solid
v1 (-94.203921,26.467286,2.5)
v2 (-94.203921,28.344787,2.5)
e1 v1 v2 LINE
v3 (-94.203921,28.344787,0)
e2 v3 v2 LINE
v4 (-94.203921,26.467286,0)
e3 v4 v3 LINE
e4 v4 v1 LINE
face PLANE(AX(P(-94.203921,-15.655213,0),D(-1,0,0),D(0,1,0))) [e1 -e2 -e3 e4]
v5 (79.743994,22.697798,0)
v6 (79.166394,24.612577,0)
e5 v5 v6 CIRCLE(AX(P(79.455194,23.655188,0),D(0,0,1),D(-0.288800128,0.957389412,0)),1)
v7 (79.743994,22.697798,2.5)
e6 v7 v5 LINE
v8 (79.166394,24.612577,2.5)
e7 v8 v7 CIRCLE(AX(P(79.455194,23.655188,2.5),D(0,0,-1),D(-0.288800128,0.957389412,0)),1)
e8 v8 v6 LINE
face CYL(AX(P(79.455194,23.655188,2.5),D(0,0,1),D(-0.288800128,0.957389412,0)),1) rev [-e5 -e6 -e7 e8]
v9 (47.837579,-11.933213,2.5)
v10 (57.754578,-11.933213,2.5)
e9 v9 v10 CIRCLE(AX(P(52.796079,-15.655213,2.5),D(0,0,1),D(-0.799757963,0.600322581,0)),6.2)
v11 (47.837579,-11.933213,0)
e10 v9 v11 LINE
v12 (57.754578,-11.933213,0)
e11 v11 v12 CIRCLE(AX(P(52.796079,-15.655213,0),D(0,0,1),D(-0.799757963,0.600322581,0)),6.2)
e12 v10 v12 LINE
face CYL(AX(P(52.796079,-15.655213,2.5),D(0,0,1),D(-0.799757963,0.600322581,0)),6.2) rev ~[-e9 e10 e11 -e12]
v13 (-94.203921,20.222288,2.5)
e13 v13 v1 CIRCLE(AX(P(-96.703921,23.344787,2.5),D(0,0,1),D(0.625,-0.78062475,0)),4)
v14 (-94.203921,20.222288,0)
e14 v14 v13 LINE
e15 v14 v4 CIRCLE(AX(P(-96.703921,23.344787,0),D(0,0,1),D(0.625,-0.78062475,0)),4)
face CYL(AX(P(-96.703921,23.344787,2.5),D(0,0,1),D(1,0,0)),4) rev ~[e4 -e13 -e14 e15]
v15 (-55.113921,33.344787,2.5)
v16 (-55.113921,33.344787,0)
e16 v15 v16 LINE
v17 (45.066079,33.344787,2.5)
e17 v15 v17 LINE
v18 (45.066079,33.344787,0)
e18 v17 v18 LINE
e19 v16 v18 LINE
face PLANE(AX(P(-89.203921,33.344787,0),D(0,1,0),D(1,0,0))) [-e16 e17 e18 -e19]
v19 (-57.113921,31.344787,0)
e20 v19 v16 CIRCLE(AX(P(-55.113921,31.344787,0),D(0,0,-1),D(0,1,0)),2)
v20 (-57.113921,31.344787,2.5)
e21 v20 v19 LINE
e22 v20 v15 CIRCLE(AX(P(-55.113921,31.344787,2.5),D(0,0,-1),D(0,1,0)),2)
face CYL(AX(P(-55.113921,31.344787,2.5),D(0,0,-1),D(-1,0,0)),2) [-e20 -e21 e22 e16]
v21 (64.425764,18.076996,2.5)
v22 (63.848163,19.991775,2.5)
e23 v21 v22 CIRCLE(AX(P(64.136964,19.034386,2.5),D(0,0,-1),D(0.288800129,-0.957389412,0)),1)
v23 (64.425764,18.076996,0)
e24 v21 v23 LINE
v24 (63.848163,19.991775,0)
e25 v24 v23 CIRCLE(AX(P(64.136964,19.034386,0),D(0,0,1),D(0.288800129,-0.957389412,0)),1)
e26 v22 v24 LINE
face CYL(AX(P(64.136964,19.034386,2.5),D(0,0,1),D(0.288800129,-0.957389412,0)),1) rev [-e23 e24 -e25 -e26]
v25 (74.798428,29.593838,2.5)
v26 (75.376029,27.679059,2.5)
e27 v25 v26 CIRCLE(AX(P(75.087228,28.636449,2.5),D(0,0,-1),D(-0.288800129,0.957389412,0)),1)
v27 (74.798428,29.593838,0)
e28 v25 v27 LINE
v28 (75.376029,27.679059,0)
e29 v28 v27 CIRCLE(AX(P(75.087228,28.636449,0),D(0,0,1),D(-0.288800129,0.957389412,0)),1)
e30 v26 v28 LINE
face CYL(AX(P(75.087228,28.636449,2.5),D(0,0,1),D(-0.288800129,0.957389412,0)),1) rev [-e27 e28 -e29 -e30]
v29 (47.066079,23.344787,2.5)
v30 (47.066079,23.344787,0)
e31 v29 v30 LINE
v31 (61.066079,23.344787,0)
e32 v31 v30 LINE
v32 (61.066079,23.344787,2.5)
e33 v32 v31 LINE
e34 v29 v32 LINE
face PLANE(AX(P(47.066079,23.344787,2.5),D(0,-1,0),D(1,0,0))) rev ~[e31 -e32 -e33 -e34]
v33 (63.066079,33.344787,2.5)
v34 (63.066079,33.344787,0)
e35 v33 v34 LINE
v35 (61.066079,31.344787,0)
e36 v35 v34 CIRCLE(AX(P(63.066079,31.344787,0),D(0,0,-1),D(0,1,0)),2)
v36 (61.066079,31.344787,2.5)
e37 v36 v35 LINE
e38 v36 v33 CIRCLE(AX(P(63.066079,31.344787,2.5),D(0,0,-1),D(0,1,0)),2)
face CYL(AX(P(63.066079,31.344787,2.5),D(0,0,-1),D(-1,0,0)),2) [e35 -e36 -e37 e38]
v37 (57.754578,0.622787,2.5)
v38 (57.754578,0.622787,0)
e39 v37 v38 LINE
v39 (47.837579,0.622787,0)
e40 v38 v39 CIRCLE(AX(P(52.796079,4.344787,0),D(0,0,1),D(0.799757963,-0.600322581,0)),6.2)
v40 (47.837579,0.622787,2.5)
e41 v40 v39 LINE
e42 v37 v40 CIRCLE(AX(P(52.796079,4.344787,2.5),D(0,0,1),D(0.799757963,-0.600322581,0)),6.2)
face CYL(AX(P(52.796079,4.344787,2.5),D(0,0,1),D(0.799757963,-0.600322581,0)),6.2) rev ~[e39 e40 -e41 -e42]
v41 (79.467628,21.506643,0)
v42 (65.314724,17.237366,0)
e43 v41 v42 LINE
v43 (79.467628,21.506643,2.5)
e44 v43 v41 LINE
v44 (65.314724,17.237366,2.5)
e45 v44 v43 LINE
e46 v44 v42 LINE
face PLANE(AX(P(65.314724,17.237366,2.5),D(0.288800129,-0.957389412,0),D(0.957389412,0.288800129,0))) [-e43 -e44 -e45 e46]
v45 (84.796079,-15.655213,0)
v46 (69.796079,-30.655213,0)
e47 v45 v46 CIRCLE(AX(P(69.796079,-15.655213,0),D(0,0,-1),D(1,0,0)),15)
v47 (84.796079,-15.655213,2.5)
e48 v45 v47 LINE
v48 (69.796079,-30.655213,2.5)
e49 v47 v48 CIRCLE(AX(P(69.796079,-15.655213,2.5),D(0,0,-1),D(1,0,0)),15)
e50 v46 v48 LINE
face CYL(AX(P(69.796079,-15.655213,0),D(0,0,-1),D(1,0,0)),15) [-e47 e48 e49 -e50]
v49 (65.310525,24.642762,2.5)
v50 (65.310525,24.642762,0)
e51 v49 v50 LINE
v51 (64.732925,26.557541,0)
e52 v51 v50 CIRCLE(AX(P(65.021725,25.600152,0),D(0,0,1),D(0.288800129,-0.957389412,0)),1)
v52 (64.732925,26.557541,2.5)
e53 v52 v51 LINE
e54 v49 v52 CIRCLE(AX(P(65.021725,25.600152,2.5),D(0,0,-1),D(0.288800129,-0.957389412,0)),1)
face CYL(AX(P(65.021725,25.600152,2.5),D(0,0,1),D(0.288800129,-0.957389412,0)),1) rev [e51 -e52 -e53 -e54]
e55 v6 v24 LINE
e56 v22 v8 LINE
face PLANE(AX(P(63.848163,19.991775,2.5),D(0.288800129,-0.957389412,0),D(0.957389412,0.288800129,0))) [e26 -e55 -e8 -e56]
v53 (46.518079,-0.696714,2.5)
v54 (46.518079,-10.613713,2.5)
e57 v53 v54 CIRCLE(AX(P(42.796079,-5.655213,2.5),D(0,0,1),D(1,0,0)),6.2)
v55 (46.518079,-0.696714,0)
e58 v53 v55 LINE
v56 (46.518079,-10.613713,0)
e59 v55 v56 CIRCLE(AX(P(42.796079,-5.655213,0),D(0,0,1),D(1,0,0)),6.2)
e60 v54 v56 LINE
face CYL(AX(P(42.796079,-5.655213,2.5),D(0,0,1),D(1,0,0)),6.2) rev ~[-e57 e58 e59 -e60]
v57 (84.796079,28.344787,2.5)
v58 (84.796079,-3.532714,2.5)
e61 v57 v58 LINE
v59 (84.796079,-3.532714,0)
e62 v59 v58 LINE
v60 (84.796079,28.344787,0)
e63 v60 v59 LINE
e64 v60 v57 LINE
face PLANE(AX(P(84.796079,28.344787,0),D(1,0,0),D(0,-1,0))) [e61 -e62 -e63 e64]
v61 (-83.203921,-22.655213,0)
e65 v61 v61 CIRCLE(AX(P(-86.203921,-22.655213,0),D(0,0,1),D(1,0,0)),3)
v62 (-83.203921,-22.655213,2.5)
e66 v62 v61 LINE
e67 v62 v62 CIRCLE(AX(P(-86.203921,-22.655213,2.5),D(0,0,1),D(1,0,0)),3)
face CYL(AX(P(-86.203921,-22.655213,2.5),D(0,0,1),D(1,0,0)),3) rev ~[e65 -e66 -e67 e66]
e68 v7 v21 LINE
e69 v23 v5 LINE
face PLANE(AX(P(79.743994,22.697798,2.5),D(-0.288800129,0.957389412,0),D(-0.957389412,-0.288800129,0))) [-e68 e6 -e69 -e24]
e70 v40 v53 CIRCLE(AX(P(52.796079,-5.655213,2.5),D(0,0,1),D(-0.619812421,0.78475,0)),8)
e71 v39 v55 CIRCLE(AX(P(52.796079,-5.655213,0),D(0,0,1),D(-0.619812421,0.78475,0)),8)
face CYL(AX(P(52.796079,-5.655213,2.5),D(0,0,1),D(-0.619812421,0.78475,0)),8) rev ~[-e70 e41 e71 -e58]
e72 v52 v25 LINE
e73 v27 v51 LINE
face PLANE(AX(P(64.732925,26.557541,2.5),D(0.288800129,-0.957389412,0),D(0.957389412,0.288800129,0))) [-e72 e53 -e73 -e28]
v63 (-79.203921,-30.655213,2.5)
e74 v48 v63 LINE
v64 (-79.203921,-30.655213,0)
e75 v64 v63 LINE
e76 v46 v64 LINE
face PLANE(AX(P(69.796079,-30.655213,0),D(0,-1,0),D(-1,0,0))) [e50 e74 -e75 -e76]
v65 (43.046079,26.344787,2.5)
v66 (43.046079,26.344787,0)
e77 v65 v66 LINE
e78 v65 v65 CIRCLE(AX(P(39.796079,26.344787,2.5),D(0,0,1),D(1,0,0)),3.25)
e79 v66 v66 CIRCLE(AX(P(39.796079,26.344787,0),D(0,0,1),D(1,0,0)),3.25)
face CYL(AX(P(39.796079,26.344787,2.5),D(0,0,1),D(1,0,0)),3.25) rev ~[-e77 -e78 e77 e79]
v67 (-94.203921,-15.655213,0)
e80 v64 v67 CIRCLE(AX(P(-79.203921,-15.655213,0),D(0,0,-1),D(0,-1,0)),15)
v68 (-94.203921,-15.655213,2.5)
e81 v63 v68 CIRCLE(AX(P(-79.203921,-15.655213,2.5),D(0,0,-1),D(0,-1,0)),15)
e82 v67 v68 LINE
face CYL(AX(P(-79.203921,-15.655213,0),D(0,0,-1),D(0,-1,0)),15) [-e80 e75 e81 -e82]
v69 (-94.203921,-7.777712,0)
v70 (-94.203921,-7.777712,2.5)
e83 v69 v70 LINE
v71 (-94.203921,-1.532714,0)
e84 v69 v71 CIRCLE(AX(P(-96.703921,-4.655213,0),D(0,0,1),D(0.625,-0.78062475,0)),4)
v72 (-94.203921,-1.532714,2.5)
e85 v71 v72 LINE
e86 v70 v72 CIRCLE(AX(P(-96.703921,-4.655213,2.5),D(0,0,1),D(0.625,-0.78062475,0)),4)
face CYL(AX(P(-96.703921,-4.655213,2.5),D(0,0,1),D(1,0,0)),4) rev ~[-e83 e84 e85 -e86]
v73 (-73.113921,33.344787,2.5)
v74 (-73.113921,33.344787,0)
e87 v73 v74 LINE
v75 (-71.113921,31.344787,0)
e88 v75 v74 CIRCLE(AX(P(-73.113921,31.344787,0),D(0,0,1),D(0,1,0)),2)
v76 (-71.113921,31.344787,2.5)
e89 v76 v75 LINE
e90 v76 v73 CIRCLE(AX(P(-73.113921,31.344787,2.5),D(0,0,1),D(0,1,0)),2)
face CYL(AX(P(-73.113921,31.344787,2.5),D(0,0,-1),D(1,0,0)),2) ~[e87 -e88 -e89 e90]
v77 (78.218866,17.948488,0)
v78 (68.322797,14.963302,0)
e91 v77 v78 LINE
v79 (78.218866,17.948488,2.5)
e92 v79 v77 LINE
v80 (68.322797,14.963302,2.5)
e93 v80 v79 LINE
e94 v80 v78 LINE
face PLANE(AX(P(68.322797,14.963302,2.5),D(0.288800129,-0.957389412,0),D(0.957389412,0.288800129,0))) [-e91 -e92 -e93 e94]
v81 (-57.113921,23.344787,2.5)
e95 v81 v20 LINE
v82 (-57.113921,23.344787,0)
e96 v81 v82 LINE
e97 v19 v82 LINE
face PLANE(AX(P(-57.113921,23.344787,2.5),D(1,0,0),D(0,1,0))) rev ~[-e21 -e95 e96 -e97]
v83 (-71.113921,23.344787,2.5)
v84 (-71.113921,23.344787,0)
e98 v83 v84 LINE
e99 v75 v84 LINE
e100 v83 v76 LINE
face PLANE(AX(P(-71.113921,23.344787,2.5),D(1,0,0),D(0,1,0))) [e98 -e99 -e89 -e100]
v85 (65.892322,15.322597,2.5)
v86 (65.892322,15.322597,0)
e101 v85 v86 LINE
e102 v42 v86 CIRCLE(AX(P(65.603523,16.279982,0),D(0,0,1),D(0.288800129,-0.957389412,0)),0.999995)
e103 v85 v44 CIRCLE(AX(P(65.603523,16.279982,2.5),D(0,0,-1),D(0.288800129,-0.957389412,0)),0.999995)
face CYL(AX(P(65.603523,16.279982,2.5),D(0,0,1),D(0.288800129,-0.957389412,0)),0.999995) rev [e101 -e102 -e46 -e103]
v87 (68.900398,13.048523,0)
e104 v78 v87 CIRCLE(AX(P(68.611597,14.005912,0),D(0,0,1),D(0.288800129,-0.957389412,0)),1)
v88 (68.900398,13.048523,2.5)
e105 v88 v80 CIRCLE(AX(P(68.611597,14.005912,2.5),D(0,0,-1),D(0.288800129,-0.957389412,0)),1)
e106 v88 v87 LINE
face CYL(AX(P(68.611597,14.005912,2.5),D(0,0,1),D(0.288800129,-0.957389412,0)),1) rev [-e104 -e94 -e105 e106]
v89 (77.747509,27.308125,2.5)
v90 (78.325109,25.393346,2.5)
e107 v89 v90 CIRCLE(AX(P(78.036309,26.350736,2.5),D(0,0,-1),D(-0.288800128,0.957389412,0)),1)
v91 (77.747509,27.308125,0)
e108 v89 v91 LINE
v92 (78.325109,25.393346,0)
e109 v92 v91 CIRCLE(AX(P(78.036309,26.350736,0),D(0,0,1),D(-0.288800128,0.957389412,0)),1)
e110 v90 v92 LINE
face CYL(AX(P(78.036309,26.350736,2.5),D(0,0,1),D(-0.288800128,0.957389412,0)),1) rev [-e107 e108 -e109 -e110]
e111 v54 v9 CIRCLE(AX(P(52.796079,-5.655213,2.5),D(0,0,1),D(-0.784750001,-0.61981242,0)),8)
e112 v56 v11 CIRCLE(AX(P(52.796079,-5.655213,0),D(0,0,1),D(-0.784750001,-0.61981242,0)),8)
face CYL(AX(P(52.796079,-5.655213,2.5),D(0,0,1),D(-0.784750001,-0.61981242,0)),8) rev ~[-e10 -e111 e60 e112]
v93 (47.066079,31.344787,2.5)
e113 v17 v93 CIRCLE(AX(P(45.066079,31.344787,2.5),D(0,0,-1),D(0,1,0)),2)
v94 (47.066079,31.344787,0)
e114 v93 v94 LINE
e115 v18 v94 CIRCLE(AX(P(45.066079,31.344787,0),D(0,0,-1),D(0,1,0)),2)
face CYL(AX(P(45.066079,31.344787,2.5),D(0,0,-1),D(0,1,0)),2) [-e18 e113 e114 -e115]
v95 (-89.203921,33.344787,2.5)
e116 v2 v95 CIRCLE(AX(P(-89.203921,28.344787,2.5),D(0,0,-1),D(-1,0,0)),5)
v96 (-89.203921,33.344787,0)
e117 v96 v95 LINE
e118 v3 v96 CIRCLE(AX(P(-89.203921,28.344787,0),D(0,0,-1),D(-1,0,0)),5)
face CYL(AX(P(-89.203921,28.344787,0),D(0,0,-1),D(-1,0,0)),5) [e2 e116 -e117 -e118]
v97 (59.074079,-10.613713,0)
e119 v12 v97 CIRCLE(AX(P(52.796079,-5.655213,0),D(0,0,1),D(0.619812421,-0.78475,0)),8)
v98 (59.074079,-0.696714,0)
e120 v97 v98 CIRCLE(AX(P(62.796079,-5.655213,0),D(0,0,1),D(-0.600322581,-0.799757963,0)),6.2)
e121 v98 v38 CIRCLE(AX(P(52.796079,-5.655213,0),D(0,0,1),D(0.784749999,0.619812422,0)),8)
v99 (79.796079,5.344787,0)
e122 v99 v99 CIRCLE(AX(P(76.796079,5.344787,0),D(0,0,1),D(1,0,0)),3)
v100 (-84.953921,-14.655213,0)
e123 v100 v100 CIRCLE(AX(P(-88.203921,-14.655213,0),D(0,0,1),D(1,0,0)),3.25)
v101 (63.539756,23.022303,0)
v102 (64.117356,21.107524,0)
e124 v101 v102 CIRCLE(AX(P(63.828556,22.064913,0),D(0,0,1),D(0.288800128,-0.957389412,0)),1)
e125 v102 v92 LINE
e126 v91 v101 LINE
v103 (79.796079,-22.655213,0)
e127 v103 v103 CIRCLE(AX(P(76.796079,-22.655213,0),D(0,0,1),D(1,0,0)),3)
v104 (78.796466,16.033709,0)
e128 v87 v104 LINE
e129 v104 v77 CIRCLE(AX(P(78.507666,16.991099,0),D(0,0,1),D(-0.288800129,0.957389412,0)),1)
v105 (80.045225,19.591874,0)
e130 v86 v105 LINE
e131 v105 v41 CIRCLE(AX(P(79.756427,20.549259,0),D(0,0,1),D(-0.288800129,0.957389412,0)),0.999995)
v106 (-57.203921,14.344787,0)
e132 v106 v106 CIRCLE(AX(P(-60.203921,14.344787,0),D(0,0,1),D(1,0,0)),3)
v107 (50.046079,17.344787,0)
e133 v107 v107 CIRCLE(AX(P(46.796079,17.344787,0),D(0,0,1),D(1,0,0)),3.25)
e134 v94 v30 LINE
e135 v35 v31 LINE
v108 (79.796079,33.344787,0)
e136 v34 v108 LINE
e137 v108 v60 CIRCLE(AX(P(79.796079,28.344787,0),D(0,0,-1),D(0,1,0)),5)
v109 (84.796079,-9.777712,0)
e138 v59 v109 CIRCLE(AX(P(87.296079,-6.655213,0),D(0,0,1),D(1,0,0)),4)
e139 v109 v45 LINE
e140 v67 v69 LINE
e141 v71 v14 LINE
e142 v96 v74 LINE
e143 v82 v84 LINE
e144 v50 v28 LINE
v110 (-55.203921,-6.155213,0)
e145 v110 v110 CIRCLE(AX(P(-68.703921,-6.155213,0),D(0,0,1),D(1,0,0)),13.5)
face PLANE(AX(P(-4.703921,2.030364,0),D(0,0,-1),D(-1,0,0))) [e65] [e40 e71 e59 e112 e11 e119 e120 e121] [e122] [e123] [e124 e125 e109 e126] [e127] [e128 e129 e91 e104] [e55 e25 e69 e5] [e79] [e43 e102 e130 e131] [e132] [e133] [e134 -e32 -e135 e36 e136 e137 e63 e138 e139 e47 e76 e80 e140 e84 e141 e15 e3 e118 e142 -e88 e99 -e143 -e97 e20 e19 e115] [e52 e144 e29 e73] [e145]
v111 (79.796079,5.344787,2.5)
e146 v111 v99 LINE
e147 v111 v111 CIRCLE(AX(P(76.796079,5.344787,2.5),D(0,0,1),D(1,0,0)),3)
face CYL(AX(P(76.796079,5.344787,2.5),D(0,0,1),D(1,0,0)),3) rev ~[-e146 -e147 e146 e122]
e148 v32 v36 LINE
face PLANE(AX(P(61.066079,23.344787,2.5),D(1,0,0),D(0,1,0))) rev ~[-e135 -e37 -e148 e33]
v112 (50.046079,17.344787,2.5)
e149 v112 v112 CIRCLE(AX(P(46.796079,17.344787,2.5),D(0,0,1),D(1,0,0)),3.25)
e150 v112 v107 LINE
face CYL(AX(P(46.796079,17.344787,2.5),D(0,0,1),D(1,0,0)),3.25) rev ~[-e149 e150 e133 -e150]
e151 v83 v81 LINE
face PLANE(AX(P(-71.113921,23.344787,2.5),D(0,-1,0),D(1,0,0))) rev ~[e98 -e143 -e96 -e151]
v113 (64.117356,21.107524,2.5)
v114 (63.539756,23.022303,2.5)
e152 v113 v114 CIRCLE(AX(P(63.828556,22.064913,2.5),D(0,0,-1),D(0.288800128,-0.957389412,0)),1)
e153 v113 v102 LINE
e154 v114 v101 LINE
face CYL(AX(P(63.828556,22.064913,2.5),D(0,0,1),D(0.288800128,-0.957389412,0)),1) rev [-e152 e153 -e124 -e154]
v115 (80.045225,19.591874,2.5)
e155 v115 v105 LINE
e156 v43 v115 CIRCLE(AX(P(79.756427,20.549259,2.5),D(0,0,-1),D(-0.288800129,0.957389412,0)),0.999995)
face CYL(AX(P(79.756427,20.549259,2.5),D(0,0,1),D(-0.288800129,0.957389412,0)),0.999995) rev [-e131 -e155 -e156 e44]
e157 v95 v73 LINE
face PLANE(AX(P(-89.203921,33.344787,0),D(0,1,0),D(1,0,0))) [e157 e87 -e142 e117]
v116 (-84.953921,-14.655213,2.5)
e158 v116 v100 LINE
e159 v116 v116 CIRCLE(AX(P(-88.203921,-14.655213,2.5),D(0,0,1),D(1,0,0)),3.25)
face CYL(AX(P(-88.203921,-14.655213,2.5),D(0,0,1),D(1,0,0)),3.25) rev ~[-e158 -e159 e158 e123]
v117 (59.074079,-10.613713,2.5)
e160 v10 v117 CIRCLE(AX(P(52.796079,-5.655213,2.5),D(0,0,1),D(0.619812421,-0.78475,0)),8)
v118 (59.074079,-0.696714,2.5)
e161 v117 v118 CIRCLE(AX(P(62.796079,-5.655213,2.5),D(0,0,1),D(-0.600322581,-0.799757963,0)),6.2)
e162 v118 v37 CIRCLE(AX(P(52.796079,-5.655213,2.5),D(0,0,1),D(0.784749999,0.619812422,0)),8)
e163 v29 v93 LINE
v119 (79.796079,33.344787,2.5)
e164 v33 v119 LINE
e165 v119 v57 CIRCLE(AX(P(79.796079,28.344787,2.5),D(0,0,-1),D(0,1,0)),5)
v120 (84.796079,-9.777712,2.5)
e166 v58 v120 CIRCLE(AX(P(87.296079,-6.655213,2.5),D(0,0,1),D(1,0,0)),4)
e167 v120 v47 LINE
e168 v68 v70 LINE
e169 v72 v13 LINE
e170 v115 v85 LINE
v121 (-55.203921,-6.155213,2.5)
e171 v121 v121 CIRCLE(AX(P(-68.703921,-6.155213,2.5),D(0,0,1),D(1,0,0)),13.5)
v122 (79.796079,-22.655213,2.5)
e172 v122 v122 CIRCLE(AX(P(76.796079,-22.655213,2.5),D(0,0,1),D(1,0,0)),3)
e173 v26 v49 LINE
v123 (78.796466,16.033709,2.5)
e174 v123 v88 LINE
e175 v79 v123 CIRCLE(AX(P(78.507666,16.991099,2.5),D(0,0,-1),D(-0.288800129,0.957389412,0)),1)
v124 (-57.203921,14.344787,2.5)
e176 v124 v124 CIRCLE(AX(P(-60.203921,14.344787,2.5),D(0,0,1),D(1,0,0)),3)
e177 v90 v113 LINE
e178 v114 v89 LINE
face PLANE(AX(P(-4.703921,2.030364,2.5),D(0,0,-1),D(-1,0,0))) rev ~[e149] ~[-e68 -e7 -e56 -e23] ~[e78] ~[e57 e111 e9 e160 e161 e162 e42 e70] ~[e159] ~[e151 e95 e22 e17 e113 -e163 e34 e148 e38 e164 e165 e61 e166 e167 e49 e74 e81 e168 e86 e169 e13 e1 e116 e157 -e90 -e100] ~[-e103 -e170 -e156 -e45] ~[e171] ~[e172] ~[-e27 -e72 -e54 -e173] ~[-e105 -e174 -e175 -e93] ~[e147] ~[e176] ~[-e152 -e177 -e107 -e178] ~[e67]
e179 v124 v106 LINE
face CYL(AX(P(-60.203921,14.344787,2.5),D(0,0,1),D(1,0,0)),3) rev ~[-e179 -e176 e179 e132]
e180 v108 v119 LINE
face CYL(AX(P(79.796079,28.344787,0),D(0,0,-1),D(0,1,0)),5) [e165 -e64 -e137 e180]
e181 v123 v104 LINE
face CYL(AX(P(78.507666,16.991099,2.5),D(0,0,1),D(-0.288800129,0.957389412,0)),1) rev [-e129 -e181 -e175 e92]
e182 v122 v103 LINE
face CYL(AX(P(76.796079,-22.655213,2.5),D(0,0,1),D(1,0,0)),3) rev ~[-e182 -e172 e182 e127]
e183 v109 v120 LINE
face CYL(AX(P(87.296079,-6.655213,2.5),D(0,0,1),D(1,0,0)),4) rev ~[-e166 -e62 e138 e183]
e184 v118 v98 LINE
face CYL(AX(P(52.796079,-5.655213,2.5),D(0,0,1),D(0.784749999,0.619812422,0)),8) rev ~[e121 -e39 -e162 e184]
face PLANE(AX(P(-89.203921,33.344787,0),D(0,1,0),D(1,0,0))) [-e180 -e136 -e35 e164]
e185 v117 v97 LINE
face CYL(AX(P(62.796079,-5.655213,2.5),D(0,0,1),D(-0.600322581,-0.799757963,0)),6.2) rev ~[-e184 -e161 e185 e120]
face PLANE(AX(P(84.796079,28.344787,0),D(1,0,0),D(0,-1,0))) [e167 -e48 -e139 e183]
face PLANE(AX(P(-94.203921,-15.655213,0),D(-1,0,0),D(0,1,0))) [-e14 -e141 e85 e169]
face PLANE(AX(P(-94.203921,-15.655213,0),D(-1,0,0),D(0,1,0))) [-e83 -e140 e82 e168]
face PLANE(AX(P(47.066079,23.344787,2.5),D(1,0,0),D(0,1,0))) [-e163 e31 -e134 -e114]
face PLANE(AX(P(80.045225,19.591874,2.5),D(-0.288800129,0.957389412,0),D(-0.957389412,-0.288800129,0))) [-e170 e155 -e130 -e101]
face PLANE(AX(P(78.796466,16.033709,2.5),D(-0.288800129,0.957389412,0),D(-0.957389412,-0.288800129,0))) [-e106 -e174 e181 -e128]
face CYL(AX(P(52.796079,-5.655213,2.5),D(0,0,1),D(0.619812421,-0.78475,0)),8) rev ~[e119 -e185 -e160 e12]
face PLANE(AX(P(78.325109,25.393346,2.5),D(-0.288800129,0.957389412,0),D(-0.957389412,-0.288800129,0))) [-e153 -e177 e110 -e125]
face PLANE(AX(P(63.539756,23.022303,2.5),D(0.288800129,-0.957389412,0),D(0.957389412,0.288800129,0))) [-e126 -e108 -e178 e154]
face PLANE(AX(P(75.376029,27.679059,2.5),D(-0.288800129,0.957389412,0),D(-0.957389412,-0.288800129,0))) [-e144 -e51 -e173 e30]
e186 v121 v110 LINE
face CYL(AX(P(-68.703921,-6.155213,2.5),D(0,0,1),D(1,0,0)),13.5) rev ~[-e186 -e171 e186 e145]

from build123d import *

# Parameters (mm, degrees)
BOSS_EXTRU_1_DEPTH       = 2.5
JOYSTICK_R               = 13.5
ENL_V_MAT_EXTRU_2_DEPTH  = 2.5
ESQUISSE2_W              = 14
ESQUISSE2_H              = 10
ENL_V_MAT_EXTRU_3_DEPTH  = 10
CONG_1_R                 = 2
CONG_2_R                 = 2
ESQUISSE3_W              = 14
ESQUISSE3_H              = 10
ENL_V_MAT_EXTRU_4_DEPTH  = 10
CONG_3_R                 = 2
CONG_4_R                 = 2
F_12X12_BUTTON_R         = 6.2
ENL_V_MAT_EXTRU_5_DEPTH  = 10
ENL_V_MAT_EXTRU_8_DEPTH  = 10
ESQUISSE5_R              = 3
ESQUISSE5_R_2            = 3.25
ENL_V_MAT_EXTRU_9_DEPTH  = 10
ESQUISSE6_R              = 4
ENL_V_MAT_EXTRU_11_DEPTH = 10


with BuildPart() as part:
    # Esquisse1 → Boss.-Extru.1 (new body)
    with BuildSketch(Plane.XY):
        with BuildLine():
            Line((-89.203921136, 33.34478673), (79.796078864, 33.34478673))
            ThreePointArc((79.796078864, 33.34478673), (83.33161277, 31.880320636), (84.796078864, 28.34478673))
            Line((84.796078864, 28.34478673), (84.796078864, -15.65521327))
            ThreePointArc((84.796078864, -15.65521327), (80.402680581, -26.261814988), (69.796078864, -30.65521327))
            Line((69.796078864, -30.65521327), (-79.203921136, -30.65521327))
            ThreePointArc((-79.203921136, -30.65521327), (-89.810522854, -26.261814988), (-94.203921136, -15.65521327))
            Line((-94.203921136, -15.65521327), (-94.203921136, 28.34478673))
            ThreePointArc((-94.203921136, 28.34478673), (-92.739455042, 31.880320636), (-89.203921136, 33.34478673))
        make_face()
    extrude(amount=BOSS_EXTRU_1_DEPTH)

    # Joystick → Enlèv. mat.-Extru.2 (cut)
    with BuildSketch(Plane.XY.offset(2.5)):
        with Locations((-68.703921136, -6.15521327)):
            Circle(JOYSTICK_R)
    extrude(amount=-ENL_V_MAT_EXTRU_2_DEPTH, mode=Mode.SUBTRACT)

    # Esquisse2 → Enlèv. mat.-Extru.3 (cut)
    with BuildSketch(Plane.XY.offset(2.5)):
        with Locations((54.066078864, 28.34478673)):
            Rectangle(ESQUISSE2_W, ESQUISSE2_H)
    extrude(amount=-ENL_V_MAT_EXTRU_3_DEPTH, mode=Mode.SUBTRACT)

    # Congé1
    cong_1_edges = [part.edges().sort_by_distance(p)[0] for p in [
        (47.066078864, 33.34478673, 1.25),
    ]]
    fillet(cong_1_edges, radius=CONG_1_R)

    # Congé2
    cong_2_edges = [part.edges().sort_by_distance(p)[0] for p in [
        (61.066078864, 33.34478673, 1.25),
    ]]
    fillet(cong_2_edges, radius=CONG_2_R)

    # Esquisse3 → Enlèv. mat.-Extru.4 (cut)
    with BuildSketch(Plane.XY.offset(2.5)):
        with Locations((-64.113921136, 28.34478673)):
            Rectangle(ESQUISSE3_W, ESQUISSE3_H)
    extrude(amount=-ENL_V_MAT_EXTRU_4_DEPTH, mode=Mode.SUBTRACT)

    # Congé3
    cong_3_edges = [part.edges().sort_by_distance(p)[0] for p in [
        (-71.113921136, 33.34478673, 1.25),
    ]]
    fillet(cong_3_edges, radius=CONG_3_R)

    # Congé4
    cong_4_edges = [part.edges().sort_by_distance(p)[0] for p in [
        (-57.113921136, 33.34478673, 1.25),
    ]]
    fillet(cong_4_edges, radius=CONG_4_R)

    # 12x12 Button → Enlèv. mat.-Extru.5 (cut)
    with BuildSketch(Plane.XY.offset(2.5)):
        with BuildLine():
            ThreePointArc((46.518078864, -0.6967139), (48.342086437, -2.883607238), (48.996078864, -5.65521327))
            ThreePointArc((48.996078864, -5.65521327), (48.342086437, -8.426819303), (46.518078864, -10.61371264))
            ThreePointArc((46.518078864, -10.61371264), (47.139224614, -11.31206752), (47.837579494, -11.93321327))
            ThreePointArc((47.837579494, -11.93321327), (52.796078864, -9.45521327), (57.754578233, -11.93321327))
            ThreePointArc((57.754578233, -11.93321327), (58.452933113, -11.31206752), (59.074078864, -10.61371264))
            ThreePointArc((59.074078864, -10.61371264), (56.596078864, -5.65521327), (59.074078864, -0.6967139))
            ThreePointArc((59.074078864, -0.6967139), (58.452933113, 0.001640979), (57.754578233, 0.62278673))
            ThreePointArc((57.754578233, 0.62278673), (52.796078864, -1.85521327), (47.837579494, 0.62278673))
            ThreePointArc((47.837579494, 0.62278673), (47.139224614, 0.001640979), (46.518078864, -0.6967139))
        make_face()
        with Locations((42.796078864, -5.65521327)):
            Circle(F_12X12_BUTTON_R)
        with Locations((52.796078864, 4.34478673)):
            Circle(F_12X12_BUTTON_R)
        with Locations((62.796078864, -5.65521327)):
            Circle(F_12X12_BUTTON_R)
        with Locations((52.796078864, -15.65521327)):
            Circle(F_12X12_BUTTON_R)
    extrude(amount=-ENL_V_MAT_EXTRU_5_DEPTH, mode=Mode.SUBTRACT)

    # Esquisse4 → Enlèv. mat.-Extru.8 (cut)
    with BuildSketch(Plane.XY.offset(2.5)):
        with BuildLine():
            Line((63.848163441, 19.991775112), (79.166394029, 24.612577171))
            ThreePointArc((79.166394029, 24.612577171), (80.412583569, 23.943987888), (79.743994286, 22.697798347))
            Line((79.743994286, 22.697798347), (64.425763698, 18.076996289))
            ThreePointArc((64.425763698, 18.076996289), (63.179574158, 18.745585572), (63.848163441, 19.991775112))
        make_face()
        with BuildLine():
            Line((63.539756046, 23.02230266), (77.747509179, 27.308125004))
            ThreePointArc((77.747509179, 27.308125004), (78.993698719, 26.639535721), (78.325109436, 25.39334618))
            Line((78.325109436, 25.39334618), (64.117356303, 21.107523836))
            ThreePointArc((64.117356303, 21.107523836), (62.871166763, 21.776113119), (63.539756046, 23.02230266))
        make_face()
        with BuildLine():
            Line((64.732924902, 26.557541009), (74.798428352, 29.593838105))
            ThreePointArc((74.798428352, 29.593838105), (76.044617893, 28.925248822), (75.37602861, 27.679059282))
            Line((75.37602861, 27.679059282), (65.31052516, 24.642762185))
            ThreePointArc((65.31052516, 24.642762185), (64.064335619, 25.311351468), (64.732924902, 26.557541009))
        make_face()
        with BuildLine():
            Line((65.314724126, 17.237366416), (79.467627817, 21.506643219))
            ThreePointArc((79.467627817, 21.506643219), (80.713811222, 20.838057228), (80.04522523, 19.591873823))
            Line((80.04522523, 19.591873823), (65.89232154, 15.32259702))
            ThreePointArc((65.89232154, 15.32259702), (64.646138135, 15.991183011), (65.314724126, 17.237366416))
        make_face()
        with BuildLine():
            Line((68.322797362, 14.963301678), (78.218865725, 17.948488042))
            ThreePointArc((78.218865725, 17.948488042), (79.465055266, 17.279898759), (78.796465983, 16.033709218))
            Line((78.796465983, 16.033709218), (68.900397619, 13.048522855))
            ThreePointArc((68.900397619, 13.048522855), (67.654208079, 13.717112138), (68.322797362, 14.963301678))
        make_face()
    extrude(amount=-ENL_V_MAT_EXTRU_8_DEPTH, mode=Mode.SUBTRACT)

    # Esquisse5 → Enlèv. mat.-Extru.9 (cut)
    with BuildSketch(Plane.XY.offset(2.5)):
        with Locations((76.796078864, -22.65521327)):
            Circle(ESQUISSE5_R)
        with Locations((-86.203921136, -22.65521327)):
            Circle(ESQUISSE5_R)
        with Locations((76.796078864, 5.34478673)):
            Circle(ESQUISSE5_R)
        with Locations((-60.203921136, 14.34478673)):
            Circle(ESQUISSE5_R)
        with Locations((-88.203921136, -14.65521327)):
            Circle(ESQUISSE5_R_2)
        with Locations((39.796078864, 26.34478673)):
            Circle(ESQUISSE5_R_2)
        with Locations((46.796078864, 17.34478673)):
            Circle(ESQUISSE5_R_2)
    extrude(amount=-ENL_V_MAT_EXTRU_9_DEPTH, mode=Mode.SUBTRACT)

    # Esquisse6 → Enlèv. mat.-Extru.11 (cut)
    with BuildSketch(Plane.XY.offset(2.5)):
        with Locations((-96.703921136, -4.65521327)):
            Circle(ESQUISSE6_R)
        with Locations((-96.703921136, 23.34478673)):
            Circle(ESQUISSE6_R)
        with Locations((87.296078864, -6.65521327)):
            Circle(ESQUISSE6_R)
    extrude(amount=-ENL_V_MAT_EXTRU_11_DEPTH, mode=Mode.SUBTRACT)


solid = part.part
